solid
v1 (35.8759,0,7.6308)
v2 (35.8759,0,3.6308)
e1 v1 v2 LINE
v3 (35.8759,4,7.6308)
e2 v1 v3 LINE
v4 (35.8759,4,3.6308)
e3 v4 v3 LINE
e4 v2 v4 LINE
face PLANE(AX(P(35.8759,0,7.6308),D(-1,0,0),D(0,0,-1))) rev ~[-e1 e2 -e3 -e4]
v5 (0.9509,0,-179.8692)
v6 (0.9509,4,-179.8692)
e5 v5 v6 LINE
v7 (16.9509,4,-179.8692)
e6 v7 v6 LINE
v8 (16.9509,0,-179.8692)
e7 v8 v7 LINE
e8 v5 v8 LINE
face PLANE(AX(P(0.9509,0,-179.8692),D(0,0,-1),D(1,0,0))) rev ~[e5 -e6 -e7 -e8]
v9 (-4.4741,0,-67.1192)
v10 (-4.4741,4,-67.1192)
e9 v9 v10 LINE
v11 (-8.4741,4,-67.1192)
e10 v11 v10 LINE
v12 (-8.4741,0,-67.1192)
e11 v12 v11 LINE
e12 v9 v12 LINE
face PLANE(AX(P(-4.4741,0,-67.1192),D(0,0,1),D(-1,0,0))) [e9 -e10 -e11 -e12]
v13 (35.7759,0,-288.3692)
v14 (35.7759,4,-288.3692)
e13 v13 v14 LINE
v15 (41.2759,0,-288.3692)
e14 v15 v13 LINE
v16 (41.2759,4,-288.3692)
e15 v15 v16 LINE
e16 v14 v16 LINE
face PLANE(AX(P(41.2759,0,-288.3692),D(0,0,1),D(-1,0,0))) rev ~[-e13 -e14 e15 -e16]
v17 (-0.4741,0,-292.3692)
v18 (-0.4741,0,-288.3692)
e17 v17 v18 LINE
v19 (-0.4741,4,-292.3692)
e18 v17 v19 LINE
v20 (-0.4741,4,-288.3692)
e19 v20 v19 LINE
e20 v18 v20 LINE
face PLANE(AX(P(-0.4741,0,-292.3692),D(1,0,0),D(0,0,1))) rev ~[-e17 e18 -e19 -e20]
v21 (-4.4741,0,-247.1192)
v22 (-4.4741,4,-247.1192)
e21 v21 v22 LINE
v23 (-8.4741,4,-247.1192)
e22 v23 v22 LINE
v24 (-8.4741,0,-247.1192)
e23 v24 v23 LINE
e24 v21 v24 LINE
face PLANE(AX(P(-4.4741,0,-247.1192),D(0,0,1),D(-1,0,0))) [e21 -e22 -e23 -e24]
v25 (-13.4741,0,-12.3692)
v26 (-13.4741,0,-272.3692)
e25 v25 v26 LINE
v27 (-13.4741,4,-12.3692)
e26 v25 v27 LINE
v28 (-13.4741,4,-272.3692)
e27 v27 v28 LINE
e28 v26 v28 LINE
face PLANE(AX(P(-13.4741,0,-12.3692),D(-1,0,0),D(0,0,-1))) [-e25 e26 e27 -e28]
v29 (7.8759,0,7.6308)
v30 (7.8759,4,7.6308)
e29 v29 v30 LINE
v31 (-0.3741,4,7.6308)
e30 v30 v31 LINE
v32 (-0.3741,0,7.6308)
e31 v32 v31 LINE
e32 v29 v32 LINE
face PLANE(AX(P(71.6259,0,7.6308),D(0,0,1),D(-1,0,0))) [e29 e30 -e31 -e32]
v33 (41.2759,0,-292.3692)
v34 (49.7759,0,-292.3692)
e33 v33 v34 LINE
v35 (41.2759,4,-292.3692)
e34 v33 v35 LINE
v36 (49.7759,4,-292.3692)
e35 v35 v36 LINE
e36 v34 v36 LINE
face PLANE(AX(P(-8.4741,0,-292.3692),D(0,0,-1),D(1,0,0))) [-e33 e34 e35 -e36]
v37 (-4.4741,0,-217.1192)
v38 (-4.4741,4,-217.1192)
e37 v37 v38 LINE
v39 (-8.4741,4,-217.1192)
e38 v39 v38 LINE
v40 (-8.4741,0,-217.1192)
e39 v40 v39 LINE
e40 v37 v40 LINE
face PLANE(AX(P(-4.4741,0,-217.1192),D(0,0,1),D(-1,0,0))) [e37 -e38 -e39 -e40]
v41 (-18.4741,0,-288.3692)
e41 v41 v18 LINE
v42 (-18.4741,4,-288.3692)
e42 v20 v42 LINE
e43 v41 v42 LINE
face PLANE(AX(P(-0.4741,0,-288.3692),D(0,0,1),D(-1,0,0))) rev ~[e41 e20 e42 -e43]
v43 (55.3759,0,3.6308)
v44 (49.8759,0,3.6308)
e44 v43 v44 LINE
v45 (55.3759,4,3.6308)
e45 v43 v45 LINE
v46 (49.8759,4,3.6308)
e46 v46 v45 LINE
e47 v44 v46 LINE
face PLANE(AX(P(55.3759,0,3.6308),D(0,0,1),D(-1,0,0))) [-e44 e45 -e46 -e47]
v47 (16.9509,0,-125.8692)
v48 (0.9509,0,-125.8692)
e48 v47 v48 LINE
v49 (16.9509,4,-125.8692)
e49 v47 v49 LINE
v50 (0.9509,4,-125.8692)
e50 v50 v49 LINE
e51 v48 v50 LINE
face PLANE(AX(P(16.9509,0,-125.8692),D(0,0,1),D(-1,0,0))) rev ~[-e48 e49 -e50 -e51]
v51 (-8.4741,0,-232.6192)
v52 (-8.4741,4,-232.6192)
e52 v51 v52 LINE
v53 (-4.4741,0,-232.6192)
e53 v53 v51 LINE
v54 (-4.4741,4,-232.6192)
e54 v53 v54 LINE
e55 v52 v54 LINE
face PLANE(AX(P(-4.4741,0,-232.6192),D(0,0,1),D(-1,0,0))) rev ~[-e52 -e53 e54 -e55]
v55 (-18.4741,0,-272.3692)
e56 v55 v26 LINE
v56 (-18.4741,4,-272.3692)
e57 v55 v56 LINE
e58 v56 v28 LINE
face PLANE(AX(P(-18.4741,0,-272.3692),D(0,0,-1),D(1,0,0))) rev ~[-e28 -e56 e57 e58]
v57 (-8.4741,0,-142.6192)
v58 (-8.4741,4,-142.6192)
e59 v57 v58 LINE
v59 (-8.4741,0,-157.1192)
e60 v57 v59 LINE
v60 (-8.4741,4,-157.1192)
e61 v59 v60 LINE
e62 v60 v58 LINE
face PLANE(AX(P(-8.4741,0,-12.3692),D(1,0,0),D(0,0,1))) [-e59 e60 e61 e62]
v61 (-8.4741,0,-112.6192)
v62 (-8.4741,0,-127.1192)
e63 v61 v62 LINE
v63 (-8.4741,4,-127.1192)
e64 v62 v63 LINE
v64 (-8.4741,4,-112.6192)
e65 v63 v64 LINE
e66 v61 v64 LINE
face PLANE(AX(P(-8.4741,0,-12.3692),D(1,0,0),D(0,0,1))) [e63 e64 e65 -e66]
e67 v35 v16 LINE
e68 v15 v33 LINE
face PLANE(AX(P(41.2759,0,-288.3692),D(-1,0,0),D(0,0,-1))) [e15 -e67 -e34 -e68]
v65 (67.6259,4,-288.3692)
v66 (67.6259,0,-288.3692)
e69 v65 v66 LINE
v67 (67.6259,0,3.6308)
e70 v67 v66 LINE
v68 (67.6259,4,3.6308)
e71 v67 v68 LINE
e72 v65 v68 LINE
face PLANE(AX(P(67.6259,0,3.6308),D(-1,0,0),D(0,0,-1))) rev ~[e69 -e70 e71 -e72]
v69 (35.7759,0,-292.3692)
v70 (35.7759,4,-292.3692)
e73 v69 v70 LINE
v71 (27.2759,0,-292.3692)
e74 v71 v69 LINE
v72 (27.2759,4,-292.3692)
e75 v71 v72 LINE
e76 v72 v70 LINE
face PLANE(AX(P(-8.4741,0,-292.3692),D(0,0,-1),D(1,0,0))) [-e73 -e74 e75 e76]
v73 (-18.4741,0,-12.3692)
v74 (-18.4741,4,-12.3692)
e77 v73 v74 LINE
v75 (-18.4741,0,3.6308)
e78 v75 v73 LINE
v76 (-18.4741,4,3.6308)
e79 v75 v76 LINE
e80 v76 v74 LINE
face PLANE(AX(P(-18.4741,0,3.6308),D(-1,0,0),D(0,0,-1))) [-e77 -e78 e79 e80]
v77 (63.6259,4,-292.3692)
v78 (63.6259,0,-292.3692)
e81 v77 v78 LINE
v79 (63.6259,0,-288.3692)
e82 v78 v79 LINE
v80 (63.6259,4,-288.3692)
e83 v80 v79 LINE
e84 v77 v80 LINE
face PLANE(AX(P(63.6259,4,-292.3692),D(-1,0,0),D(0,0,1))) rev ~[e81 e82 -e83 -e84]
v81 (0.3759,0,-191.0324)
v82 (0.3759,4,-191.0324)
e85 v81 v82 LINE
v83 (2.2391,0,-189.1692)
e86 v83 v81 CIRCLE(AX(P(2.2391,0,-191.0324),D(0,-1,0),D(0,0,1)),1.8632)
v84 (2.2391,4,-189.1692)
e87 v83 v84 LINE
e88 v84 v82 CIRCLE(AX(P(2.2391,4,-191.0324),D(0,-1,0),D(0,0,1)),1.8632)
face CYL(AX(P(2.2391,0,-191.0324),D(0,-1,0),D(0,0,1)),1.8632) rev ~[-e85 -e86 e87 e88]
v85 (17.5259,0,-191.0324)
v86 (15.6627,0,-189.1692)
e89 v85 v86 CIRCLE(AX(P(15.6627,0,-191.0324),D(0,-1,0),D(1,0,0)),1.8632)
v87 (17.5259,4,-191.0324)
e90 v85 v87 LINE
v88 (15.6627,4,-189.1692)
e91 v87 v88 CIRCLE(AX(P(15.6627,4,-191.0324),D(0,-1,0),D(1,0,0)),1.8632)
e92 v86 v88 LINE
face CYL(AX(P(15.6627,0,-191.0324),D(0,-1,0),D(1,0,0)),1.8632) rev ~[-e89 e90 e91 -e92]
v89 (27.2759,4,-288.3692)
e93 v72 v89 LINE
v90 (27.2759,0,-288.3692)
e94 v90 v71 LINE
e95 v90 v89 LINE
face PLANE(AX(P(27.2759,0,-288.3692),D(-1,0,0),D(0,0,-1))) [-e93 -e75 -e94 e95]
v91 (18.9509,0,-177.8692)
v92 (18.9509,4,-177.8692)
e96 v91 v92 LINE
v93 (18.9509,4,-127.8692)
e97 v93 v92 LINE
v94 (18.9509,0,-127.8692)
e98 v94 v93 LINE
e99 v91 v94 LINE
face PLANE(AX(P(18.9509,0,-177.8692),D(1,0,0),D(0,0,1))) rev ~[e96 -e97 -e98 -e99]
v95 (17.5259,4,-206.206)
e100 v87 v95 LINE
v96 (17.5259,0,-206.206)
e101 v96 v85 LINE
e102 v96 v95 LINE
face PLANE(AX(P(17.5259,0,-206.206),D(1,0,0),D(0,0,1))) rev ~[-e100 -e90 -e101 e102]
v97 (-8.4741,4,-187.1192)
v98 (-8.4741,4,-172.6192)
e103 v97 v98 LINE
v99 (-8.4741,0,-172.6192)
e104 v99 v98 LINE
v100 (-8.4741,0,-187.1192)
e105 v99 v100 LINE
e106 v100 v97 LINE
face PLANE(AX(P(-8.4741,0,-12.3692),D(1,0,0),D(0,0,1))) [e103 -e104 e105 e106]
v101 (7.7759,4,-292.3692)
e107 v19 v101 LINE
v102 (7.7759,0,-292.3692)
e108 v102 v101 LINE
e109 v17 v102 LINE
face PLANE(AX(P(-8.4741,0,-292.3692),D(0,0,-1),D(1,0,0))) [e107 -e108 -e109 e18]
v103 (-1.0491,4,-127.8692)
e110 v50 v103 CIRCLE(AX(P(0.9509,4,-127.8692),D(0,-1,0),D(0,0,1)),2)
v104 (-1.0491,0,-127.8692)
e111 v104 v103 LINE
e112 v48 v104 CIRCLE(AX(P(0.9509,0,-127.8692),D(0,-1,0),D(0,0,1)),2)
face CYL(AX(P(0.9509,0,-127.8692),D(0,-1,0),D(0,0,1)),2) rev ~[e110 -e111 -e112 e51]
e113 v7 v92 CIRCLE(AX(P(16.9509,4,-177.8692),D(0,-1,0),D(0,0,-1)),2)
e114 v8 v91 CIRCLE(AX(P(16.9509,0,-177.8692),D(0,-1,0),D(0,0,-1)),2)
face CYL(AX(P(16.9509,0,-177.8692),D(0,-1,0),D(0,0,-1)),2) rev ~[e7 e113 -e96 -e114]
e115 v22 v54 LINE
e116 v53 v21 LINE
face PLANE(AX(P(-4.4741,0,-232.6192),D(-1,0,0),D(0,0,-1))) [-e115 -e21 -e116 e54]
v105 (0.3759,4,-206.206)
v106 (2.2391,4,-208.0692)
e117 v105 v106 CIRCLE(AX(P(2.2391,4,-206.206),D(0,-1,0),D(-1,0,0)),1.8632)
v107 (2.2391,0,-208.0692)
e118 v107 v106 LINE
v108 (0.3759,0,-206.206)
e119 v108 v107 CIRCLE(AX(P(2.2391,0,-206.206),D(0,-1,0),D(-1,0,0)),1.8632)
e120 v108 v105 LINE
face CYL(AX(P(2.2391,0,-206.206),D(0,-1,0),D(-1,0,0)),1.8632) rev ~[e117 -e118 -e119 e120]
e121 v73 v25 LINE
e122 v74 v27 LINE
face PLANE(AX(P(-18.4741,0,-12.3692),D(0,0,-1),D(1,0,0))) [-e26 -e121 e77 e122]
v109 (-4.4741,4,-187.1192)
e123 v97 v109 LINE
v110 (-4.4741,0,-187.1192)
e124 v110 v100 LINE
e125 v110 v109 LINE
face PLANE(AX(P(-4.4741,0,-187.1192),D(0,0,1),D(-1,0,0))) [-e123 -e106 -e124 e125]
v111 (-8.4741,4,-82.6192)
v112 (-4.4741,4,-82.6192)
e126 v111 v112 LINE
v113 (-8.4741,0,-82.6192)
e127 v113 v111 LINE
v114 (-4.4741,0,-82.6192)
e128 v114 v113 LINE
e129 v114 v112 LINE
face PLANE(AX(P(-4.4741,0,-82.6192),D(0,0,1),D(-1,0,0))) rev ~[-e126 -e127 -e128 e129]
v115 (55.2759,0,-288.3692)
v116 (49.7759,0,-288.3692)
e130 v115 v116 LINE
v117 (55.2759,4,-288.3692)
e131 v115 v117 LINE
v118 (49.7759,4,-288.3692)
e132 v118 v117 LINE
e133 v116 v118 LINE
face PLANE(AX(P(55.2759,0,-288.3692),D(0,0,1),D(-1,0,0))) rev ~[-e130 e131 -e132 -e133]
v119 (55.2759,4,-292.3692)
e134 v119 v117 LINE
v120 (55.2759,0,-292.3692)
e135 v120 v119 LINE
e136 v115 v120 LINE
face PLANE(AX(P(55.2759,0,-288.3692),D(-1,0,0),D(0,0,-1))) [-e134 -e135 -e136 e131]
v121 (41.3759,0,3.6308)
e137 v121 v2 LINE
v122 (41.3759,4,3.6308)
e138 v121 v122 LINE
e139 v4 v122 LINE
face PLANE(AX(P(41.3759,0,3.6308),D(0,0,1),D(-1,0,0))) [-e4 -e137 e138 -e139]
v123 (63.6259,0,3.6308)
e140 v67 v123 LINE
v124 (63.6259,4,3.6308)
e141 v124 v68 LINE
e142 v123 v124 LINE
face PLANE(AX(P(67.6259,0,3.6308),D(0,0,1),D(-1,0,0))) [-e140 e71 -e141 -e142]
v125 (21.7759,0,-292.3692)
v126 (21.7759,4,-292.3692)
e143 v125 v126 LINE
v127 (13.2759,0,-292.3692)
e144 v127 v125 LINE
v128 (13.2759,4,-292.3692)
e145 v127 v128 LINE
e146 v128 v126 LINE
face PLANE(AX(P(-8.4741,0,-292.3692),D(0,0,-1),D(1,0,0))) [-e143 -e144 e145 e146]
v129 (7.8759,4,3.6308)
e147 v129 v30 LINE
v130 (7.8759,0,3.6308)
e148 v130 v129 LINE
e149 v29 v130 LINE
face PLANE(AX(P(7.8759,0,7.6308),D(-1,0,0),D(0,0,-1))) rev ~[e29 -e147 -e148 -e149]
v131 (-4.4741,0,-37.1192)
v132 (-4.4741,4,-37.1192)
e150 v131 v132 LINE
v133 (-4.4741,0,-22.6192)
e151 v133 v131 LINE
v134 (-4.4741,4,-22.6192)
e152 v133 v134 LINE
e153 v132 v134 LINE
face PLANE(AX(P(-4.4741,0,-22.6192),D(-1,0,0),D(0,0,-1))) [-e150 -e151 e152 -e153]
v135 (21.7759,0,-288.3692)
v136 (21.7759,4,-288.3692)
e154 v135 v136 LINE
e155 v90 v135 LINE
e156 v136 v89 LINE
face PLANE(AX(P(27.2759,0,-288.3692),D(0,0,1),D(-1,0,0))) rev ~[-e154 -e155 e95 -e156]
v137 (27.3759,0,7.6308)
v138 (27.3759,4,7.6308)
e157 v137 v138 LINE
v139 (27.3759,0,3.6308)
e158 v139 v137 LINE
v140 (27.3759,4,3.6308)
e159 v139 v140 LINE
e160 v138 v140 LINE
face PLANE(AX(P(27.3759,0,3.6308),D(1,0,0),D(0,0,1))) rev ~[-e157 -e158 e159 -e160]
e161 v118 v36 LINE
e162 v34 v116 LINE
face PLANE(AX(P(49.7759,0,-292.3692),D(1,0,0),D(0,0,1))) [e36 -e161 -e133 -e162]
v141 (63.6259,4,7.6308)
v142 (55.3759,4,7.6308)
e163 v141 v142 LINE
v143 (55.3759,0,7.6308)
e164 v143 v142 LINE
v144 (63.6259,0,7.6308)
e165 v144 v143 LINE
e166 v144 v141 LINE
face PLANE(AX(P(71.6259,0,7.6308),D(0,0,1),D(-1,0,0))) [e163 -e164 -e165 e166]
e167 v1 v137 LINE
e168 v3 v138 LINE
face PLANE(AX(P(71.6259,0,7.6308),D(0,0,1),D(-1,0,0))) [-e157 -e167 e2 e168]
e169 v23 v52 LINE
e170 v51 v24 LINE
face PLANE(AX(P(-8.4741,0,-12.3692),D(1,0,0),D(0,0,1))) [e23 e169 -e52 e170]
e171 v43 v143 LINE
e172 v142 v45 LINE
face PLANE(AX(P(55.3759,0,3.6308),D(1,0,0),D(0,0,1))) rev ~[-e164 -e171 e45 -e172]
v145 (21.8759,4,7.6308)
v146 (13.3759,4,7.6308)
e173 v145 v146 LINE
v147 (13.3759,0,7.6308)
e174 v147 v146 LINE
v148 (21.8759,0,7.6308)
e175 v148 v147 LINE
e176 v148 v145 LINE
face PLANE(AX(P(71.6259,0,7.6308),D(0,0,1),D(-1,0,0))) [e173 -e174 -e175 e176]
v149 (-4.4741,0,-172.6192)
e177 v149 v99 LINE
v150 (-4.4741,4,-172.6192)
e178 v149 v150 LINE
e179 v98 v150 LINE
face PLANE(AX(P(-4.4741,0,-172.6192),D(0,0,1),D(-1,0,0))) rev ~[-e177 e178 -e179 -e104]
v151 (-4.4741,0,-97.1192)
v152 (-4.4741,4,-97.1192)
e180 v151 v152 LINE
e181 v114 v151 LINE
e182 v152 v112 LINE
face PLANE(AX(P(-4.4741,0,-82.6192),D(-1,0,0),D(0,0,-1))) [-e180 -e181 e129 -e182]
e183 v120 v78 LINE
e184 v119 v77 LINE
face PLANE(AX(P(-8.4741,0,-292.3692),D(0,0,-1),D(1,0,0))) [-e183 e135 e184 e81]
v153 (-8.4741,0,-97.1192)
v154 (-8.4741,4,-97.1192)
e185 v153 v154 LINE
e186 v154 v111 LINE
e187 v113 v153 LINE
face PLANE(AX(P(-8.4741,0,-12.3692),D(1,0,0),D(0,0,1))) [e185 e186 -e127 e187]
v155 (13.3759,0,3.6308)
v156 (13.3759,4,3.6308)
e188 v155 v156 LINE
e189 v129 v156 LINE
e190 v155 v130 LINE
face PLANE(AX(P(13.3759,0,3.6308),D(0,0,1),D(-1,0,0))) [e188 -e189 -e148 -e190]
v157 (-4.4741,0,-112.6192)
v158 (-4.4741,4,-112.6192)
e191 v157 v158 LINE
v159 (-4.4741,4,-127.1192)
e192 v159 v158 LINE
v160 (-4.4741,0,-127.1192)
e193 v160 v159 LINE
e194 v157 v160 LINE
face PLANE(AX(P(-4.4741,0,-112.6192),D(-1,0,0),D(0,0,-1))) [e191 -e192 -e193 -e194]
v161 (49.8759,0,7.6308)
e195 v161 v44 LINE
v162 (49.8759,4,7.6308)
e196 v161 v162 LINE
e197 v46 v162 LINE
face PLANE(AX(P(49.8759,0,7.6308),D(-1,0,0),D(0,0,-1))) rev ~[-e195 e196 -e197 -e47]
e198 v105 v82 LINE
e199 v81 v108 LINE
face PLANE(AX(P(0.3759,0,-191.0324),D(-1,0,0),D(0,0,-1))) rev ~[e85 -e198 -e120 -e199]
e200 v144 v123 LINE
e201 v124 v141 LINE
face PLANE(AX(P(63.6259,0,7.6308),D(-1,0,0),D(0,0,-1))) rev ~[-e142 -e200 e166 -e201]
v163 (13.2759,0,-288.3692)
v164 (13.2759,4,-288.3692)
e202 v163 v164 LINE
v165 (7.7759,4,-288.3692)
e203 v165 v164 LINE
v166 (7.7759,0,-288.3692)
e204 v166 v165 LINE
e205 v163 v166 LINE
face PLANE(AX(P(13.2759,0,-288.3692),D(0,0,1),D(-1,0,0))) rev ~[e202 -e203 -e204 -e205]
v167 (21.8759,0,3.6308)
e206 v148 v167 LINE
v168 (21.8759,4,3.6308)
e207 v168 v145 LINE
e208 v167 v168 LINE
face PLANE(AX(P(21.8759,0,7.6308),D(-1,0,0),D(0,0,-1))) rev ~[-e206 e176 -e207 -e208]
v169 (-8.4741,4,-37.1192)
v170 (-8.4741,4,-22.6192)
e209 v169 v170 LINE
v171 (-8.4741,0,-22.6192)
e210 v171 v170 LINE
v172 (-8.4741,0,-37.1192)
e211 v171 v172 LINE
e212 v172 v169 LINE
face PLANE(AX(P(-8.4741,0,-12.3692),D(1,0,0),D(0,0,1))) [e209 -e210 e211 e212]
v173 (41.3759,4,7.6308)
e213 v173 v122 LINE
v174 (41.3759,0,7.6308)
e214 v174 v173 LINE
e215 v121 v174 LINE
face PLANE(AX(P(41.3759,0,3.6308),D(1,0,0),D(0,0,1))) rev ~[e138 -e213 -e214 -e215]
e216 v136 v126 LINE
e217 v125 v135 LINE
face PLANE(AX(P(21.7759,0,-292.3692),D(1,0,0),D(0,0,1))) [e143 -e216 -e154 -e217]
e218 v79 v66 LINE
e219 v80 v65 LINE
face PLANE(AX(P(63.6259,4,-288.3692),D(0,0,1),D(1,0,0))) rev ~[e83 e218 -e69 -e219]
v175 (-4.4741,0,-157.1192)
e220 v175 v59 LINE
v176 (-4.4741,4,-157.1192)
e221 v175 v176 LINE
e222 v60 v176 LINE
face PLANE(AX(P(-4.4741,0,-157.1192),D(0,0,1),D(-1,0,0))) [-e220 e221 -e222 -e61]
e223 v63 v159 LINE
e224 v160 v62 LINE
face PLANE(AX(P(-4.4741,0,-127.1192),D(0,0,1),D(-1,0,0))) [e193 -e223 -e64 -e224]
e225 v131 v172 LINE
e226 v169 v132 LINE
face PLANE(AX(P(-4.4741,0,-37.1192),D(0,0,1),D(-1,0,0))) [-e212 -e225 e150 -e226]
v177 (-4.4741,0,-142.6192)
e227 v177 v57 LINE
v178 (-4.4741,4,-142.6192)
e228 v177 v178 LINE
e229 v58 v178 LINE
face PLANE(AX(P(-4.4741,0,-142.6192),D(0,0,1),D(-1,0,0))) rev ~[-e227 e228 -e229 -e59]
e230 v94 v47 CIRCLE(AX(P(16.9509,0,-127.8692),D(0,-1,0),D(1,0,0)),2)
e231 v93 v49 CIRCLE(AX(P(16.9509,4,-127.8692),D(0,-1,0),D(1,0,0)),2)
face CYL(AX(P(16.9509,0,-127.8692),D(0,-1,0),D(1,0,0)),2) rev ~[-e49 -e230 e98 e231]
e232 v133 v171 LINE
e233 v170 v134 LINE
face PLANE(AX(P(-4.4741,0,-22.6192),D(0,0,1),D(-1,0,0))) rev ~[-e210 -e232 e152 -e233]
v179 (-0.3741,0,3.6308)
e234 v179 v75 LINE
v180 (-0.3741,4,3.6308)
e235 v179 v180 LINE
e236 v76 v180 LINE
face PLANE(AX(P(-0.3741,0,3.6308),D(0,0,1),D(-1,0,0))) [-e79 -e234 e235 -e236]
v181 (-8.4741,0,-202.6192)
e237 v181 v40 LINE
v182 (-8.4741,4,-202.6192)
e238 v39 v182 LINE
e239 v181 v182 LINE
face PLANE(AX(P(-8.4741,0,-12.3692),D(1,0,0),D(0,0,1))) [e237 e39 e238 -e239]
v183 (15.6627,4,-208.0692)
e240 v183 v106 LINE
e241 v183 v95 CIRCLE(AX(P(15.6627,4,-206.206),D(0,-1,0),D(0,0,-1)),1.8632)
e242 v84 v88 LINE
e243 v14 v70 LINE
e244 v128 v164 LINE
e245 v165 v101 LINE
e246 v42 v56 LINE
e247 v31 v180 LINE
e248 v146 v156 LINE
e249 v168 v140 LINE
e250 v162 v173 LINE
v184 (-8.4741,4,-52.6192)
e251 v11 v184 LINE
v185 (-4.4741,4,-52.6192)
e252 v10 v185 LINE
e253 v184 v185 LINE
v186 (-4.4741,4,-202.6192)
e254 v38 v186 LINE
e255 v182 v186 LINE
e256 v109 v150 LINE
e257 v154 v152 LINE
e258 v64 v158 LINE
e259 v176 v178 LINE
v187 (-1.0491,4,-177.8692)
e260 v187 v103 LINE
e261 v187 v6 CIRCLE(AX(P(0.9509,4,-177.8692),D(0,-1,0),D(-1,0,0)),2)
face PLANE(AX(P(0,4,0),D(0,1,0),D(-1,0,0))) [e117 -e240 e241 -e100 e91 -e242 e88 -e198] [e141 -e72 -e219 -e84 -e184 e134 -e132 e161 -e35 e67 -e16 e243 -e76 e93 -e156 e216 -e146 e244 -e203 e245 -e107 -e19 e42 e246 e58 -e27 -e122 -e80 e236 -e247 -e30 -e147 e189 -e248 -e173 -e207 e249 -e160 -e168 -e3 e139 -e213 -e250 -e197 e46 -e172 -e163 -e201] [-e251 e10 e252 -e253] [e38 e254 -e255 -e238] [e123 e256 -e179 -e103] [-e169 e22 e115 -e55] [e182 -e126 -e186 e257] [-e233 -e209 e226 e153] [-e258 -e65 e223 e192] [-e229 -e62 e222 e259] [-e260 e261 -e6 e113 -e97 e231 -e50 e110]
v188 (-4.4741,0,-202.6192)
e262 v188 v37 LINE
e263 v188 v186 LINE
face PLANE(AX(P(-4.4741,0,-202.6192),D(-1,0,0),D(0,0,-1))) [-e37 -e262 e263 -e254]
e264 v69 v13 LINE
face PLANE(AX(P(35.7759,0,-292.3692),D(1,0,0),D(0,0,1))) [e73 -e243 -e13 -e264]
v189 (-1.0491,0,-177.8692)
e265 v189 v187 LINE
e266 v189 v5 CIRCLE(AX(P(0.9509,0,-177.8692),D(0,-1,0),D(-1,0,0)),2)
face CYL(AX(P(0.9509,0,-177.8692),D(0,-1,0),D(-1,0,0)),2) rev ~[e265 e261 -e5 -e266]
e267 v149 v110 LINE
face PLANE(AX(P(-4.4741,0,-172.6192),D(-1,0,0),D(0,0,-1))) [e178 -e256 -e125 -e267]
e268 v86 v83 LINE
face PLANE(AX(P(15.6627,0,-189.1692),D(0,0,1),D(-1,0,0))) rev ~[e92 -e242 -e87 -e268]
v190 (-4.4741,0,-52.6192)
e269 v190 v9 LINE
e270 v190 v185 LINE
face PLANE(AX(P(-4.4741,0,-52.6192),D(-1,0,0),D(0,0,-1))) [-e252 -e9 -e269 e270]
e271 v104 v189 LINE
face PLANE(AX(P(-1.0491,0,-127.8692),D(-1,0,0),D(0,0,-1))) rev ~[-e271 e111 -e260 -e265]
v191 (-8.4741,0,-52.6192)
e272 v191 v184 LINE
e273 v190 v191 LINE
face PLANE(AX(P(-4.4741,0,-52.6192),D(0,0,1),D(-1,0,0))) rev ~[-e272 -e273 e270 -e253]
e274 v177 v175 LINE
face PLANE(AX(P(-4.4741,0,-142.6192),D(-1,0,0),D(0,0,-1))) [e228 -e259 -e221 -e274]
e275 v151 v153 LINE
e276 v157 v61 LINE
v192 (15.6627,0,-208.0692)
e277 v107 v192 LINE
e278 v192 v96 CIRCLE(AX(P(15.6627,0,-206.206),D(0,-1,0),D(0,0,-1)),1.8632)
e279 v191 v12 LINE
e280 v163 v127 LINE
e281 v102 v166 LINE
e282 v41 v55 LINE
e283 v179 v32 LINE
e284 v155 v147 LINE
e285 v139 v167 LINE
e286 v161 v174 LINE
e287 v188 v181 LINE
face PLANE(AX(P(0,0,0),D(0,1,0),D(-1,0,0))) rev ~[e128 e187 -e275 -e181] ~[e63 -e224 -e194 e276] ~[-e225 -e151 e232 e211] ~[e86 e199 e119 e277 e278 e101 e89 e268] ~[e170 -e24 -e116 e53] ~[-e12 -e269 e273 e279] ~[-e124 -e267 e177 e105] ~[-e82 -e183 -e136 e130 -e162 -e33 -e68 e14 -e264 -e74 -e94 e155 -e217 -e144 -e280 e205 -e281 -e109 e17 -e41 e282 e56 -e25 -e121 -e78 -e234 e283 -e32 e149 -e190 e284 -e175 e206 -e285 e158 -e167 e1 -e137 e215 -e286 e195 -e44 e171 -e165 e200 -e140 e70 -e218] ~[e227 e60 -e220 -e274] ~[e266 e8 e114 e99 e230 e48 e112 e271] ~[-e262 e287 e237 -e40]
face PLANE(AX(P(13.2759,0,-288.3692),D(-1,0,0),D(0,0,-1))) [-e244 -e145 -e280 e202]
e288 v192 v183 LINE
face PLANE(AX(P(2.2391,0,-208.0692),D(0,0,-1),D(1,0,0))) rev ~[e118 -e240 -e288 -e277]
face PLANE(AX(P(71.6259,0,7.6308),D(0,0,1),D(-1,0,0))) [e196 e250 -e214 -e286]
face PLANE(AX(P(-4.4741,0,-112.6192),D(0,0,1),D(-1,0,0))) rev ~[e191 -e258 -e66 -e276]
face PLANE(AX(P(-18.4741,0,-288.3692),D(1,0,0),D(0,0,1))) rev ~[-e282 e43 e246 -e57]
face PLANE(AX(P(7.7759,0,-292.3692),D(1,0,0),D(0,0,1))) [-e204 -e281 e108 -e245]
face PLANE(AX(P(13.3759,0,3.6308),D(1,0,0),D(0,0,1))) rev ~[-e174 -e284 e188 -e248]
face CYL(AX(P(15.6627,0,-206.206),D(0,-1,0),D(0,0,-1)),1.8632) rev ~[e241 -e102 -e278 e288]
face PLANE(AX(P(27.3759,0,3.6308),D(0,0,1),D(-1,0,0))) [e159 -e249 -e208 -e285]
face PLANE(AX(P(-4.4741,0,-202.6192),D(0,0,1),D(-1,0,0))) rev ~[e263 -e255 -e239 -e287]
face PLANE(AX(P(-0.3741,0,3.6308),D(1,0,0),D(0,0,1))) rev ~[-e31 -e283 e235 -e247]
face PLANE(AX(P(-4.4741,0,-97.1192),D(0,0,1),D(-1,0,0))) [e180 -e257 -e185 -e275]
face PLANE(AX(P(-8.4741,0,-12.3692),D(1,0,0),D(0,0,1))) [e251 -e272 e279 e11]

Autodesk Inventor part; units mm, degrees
ref_plane "YZ Plane" through (0, 0, 0) normal (1, 0, 0) x (0, 1, 0)
ref_plane "XZ Plane" through (0, 0, 0) normal (0, 1, 0) x (-1, 0, 0)
ref_plane "XY Plane" through (0, 0, 0) normal (0, 0, 1) x (1, 0, 0)
sketch "Sketch1" plane through (0, 0, 0) normal (0, 1, 0) x (-1, 0, 0)
  line L0 (-71.6259, 7.6308) -> (8.4741, 7.6308)
  line L1 (8.4741, 7.6308) -> (8.4741, -292.3692)
  line L2 (8.4741, -292.3692) -> (-71.6259, -292.3692)
  line L3 (-71.6259, -292.3692) -> (-71.6259, 7.6308)
  point P0 (0, 0)
extrude "Extrusion1" add sketch "Sketch1" along normal blind 4
sketch "Sketch2" plane through (0, 0, 0) normal (0, -1, 0) x (1, 0, 0)
  line L0 (-0.3741, 7.6308) -> (-18.4741, 7.6308) construction
  line L1 (-0.3741, 3.6308) -> (-0.3741, 7.6308) construction
  line L2 (7.6259, 7.6308) -> (7.6259, 3.6308) construction
  line L3 (13.6259, 3.6308) -> (7.6259, 3.6308) construction
  line L4 (13.6259, 3.6308) -> (13.6259, 7.6308) construction
  line L5 (21.6259, 7.6308) -> (21.6259, 3.6308) construction
  line L6 (27.6259, 3.6308) -> (21.6259, 3.6308) construction
  line L7 (27.6259, 3.6308) -> (27.6259, 7.6308) construction
  line L8 (35.6259, 7.6308) -> (35.6259, 3.6308) construction
  line L9 (41.6259, 3.6308) -> (35.6259, 3.6308) construction
  line L10 (41.6259, 3.6308) -> (41.6259, 7.6308) construction
  line L11 (49.6259, 7.6308) -> (49.6259, 3.6308) construction
  line L12 (55.6259, 3.6308) -> (49.6259, 3.6308) construction
  line L13 (55.6259, 3.6308) -> (55.6259, 7.6308) construction
  line L14 (63.6259, 7.6308) -> (63.6259, 3.6308) construction
  line L15 (67.6259, 3.6308) -> (63.6259, 3.6308) construction
  line L16 (67.6259, 7.6308) -> (67.6259, -292.3692) projected
  line L17 (71.6259, 7.6308) -> (71.6259, -292.3692) projected
  line L18 (67.6259, 7.6308) -> (67.6259, -292.3692) projected
  line L19 (71.6259, 7.6308) -> (71.6259, -292.3692) projected
  line L20 (67.6259, 7.6308) -> (67.6259, -292.3692) projected
  line L21 (71.6259, 7.6308) -> (71.6259, -292.3692) projected
  line L22 (67.6259, 7.6308) -> (67.6259, -292.3692) projected
  line L23 (71.6259, 7.6308) -> (71.6259, -292.3692) projected
  line L24 (67.6259, 7.6308) -> (67.6259, -292.3692) projected
  line L25 (71.6259, 7.6308) -> (71.6259, -292.3692) projected
  line L26 (67.6259, 7.6308) -> (67.6259, -292.3692) projected
  line L27 (71.6259, 7.6308) -> (71.6259, -292.3692) projected
  line L28 (67.6259, 7.6308) -> (67.6259, -292.3692) projected
  line L29 (71.6259, 7.6308) -> (71.6259, -292.3692) projected
  line L30 (67.6259, 7.6308) -> (67.6259, -292.3692) projected
  line L31 (71.6259, 7.6308) -> (71.6259, -292.3692) projected
  line L32 (67.6259, 7.6308) -> (67.6259, -292.3692) projected
  line L33 (71.6259, 7.6308) -> (71.6259, -292.3692) projected
  line L34 (67.6259, 7.6308) -> (67.6259, -292.3692) projected
  line L35 (71.6259, 7.6308) -> (71.6259, -292.3692) projected
  line L36 (13.5259, -288.3692) -> (7.5259, -288.3692) projected
  line L37 (55.5259, -292.3692) -> (55.5259, -288.3692) projected
  line L38 (55.5259, -288.3692) -> (49.5259, -288.3692) projected
  line L39 (49.5259, -288.3692) -> (49.5259, -292.3692) projected
  line L40 (41.5259, -288.3692) -> (35.5259, -288.3692) projected
  line L41 (41.5259, -292.3692) -> (41.5259, -288.3692) projected
  line L42 (35.5259, -288.3692) -> (35.5259, -292.3692) projected
  line L43 (27.5259, -288.3692) -> (21.5259, -288.3692) projected
  line L44 (27.5259, -292.3692) -> (27.5259, -288.3692) projected
  line L45 (21.5259, -288.3692) -> (21.5259, -292.3692) projected
  line L46 (13.5259, -288.3692) -> (7.5259, -288.3692) projected
  line L47 (13.5259, -292.3692) -> (13.5259, -288.3692) projected
  line L48 (7.5259, -288.3692) -> (7.5259, -292.3692) projected
  line L49 (-8.4741, -292.3692) -> (-8.4741, 7.6308) projected
  line L50 (-8.4741, -22.3692) -> (-8.4741, -37.3692) projected
  line L51 (-8.4741, -37.3692) -> (-4.4741, -37.3692) projected
  line L52 (-4.4741, -22.3692) -> (-4.4741, -37.3692) projected
  line L53 (-8.4741, -22.3692) -> (-4.4741, -22.3692) projected
  line L54 (-8.4741, -52.3692) -> (-8.4741, -67.3692) projected
  line L55 (-8.4741, -67.3692) -> (-4.4741, -67.3692) projected
  line L56 (-4.4741, -52.3692) -> (-4.4741, -67.3692) projected
  line L57 (-8.4741, -52.3692) -> (-4.4741, -52.3692) projected
  line L58 (-8.4741, -82.3692) -> (-8.4741, -97.3692) projected
  line L59 (-8.4741, -97.3692) -> (-4.4741, -97.3692) projected
  line L60 (-4.4741, -82.3692) -> (-4.4741, -97.3692) projected
  line L61 (-8.4741, -82.3692) -> (-4.4741, -82.3692) projected
  line L62 (-8.4741, -112.3692) -> (-8.4741, -127.3692) projected
  line L63 (-8.4741, -127.3692) -> (-4.4741, -127.3692) projected
  line L64 (-4.4741, -112.3692) -> (-4.4741, -127.3692) projected
  line L65 (-8.4741, -112.3692) -> (-4.4741, -112.3692) projected
  line L66 (-8.4741, -142.3692) -> (-8.4741, -157.3692) projected
  line L67 (-8.4741, -157.3692) -> (-4.4741, -157.3692) projected
  line L68 (-4.4741, -142.3692) -> (-4.4741, -157.3692) projected
  line L69 (-8.4741, -142.3692) -> (-4.4741, -142.3692) projected
  line L70 (-8.4741, -172.3692) -> (-8.4741, -187.3692) projected
  line L71 (-8.4741, -187.3692) -> (-4.4741, -187.3692) projected
  line L72 (-4.4741, -172.3692) -> (-4.4741, -187.3692) projected
  line L73 (-8.4741, -172.3692) -> (-4.4741, -172.3692) projected
  line L74 (-8.4741, -202.3692) -> (-8.4741, -217.3692) projected
  line L75 (-8.4741, -217.3692) -> (-4.4741, -217.3692) projected
  line L76 (-4.4741, -202.3692) -> (-4.4741, -217.3692) projected
  line L77 (-8.4741, -202.3692) -> (-4.4741, -202.3692) projected
  line L78 (-8.4741, -232.3692) -> (-8.4741, -247.3692) projected
  line L79 (-8.4741, -247.3692) -> (-4.4741, -247.3692) projected
  line L80 (-4.4741, -232.3692) -> (-4.4741, -247.3692) projected
  line L81 (-8.4741, -232.3692) -> (-4.4741, -232.3692) projected
  line L82 (71.6259, -37.1192) -> (67.6259, -37.1192)
  line L83 (67.6259, -22.6192) -> (71.6259, -22.6192)
  line L84 (67.6259, -52.6192) -> (71.6259, -52.6192)
  line L85 (71.6259, -67.1192) -> (67.6259, -67.1192)
  line L86 (67.6259, -82.6192) -> (71.6259, -82.6192)
  line L87 (71.6259, -97.1192) -> (67.6259, -97.1192)
  line L88 (67.6259, -112.6192) -> (71.6259, -112.6192)
  line L89 (71.6259, -127.1192) -> (67.6259, -127.1192)
  line L90 (67.6259, -142.6192) -> (71.6259, -142.6192)
  line L91 (71.6259, -157.1192) -> (67.6259, -157.1192)
  line L92 (67.6259, -172.6192) -> (71.6259, -172.6192)
  line L93 (71.6259, -187.1192) -> (67.6259, -187.1192)
  line L94 (67.6259, -202.6192) -> (71.6259, -202.6192)
  line L95 (71.6259, -217.1192) -> (67.6259, -217.1192)
  line L96 (67.6259, -232.6192) -> (71.6259, -232.6192)
  line L97 (71.6259, -247.1192) -> (67.6259, -247.1192)
  line L98 (67.6259, -262.6192) -> (71.6259, -262.6192)
  line L99 (71.6259, -277.1192) -> (67.6259, -277.1192)
  line L100 (-4.4741, -22.6192) -> (-8.4741, -22.6192)
  line L101 (-4.4741, -37.1192) -> (-8.4741, -37.1192)
  line L102 (-4.4741, -52.6192) -> (-8.4741, -52.6192)
  line L103 (-4.4741, -67.1192) -> (-8.4741, -67.1192)
  line L104 (-4.4741, -82.6192) -> (-8.4741, -82.6192)
  line L105 (-4.4741, -97.1192) -> (-8.4741, -97.1192)
  line L106 (-4.4741, -112.6192) -> (-8.4741, -112.6192)
  line L107 (-4.4741, -127.1192) -> (-8.4741, -127.1192)
  line L108 (-4.4741, -142.6192) -> (-8.4741, -142.6192)
  line L109 (-4.4741, -157.1192) -> (-8.4741, -157.1192)
  line L110 (-4.4741, -172.6192) -> (-8.4741, -172.6192)
  line L111 (-4.4741, -187.1192) -> (-8.4741, -187.1192)
  line L112 (-4.4741, -202.6192) -> (-8.4741, -202.6192)
  line L113 (-4.4741, -217.1192) -> (-8.4741, -217.1192)
  line L114 (-4.4741, -232.6192) -> (-8.4741, -232.6192)
  line L115 (-4.4741, -247.1192) -> (-8.4741, -247.1192)
  line L116 (7.8759, 7.6308) -> (7.8759, 3.6308)
  line L117 (13.3759, 3.6308) -> (13.3759, 7.6308)
  line L118 (21.8759, 7.6308) -> (21.8759, 3.6308)
  line L119 (27.3759, 3.6308) -> (27.3759, 7.6308)
  line L120 (35.8759, 7.6308) -> (35.8759, 3.6308)
  line L121 (41.3759, 3.6308) -> (41.3759, 7.6308)
  line L122 (49.8759, 7.6308) -> (49.8759, 3.6308)
  line L123 (55.3759, 3.6308) -> (55.3759, 7.6308)
  line L124 (7.7759, -292.3692) -> (7.7759, -288.3692)
  line L125 (13.2759, -288.3692) -> (13.2759, -292.3692)
  line L126 (21.7759, -292.3692) -> (21.7759, -288.3692)
  line L127 (27.2759, -288.3692) -> (27.2759, -292.3692)
  line L128 (35.7759, -292.3692) -> (35.7759, -288.3692)
  line L129 (41.2759, -288.3692) -> (41.2759, -292.3692)
  line L130 (49.7759, -292.3692) -> (49.7759, -288.3692)
  line L131 (55.2759, -288.3692) -> (55.2759, -292.3692)
  line L132 (13.6259, 3.6308) -> (7.6259, 3.6308) projected
  line L133 (27.6259, 3.6308) -> (21.6259, 3.6308) projected
  line L134 (41.6259, 3.6308) -> (35.6259, 3.6308) projected
  line L135 (55.6259, 3.6308) -> (49.6259, 3.6308) projected
  line L136 (71.6259, -292.3692) -> (-8.4741, -292.3692) projected
  line L137 (-0.3741, 3.6308) -> (-0.3741, 7.6308) projected
  line L138 (-8.4741, 7.6308) -> (71.6259, 7.6308) projected
  line L139 (71.6259, 7.6308) -> (71.6259, -292.3692) projected
  line L140 (63.6259, 7.6308) -> (63.6259, 3.6308) projected
  line L141 (67.6259, 3.6308) -> (63.6259, 3.6308) projected
  line L142 (-0.3741, 3.6308) -> (-18.4741, 3.6308) projected
  line L143 (-18.4741, 7.6308) -> (-18.4741, 3.6308) projected
  line L144 (-0.3741, 7.6308) -> (-18.4741, 7.6308) projected
  line L145 (-0.3741, 3.6308) -> (-0.3741, 7.6308) projected
  line L146 (-0.3741, 7.6308) -> (-18.4741, 7.6308) projected
  line L147 (-18.4741, 7.6308) -> (-18.4741, 3.6308) projected
  line L148 (-0.3741, 3.6308) -> (-18.4741, 3.6308) projected
  line L149 (-0.4741, -292.3692) -> (-0.4741, -288.3692) projected
  line L150 (-0.4741, -288.3692) -> (-18.4741, -288.3692) projected
  line L151 (-18.4741, -292.3692) -> (-18.4741, -288.3692) projected
  line L152 (-0.4741, -292.3692) -> (-18.4741, -292.3692) projected
  line L153 (15.6627, -189.1692) -> (2.2391, -189.1692)
  line L154 (0.3759, -191.0324) -> (0.3759, -206.206)
  line L155 (2.2391, -208.0692) -> (15.6627, -208.0692)
  line L156 (17.5259, -206.206) -> (17.5259, -191.0324)
  arc A0 (17.5259, -191.0324) -> (15.6627, -189.1692) centre (15.6627, -191.0324) ccw
  arc A1 (2.2391, -189.1692) -> (0.3759, -191.0324) centre (2.2391, -191.0324) ccw
  arc A2 (15.6627, -208.0692) -> (17.5259, -206.206) centre (15.6627, -206.206) ccw
  arc A3 (0.3759, -206.206) -> (2.2391, -208.0692) centre (2.2391, -206.206) ccw
  line L157 (16.9509, -125.8692) -> (0.9509, -125.8692)
  line L158 (-1.0491, -127.8692) -> (-1.0491, -177.8692)
  line L159 (0.9509, -179.8692) -> (16.9509, -179.8692)
  line L160 (18.9509, -177.8692) -> (18.9509, -127.8692)
  arc A4 (18.9509, -127.8692) -> (16.9509, -125.8692) centre (16.9509, -127.8692) ccw
  arc A5 (0.9509, -125.8692) -> (-1.0491, -127.8692) centre (0.9509, -127.8692) ccw
  arc A6 (16.9509, -179.8692) -> (18.9509, -177.8692) centre (16.9509, -177.8692) ccw
  arc A7 (-1.0491, -177.8692) -> (0.9509, -179.8692) centre (0.9509, -177.8692) ccw
  line L161 (67.6259, -292.3692) -> (71.6259, -292.3692) projected
  line L162 (67.6259, 7.6308) -> (71.6259, 7.6308) projected
  line L163 (67.6259, -292.3692) -> (71.6259, -292.3692) projected
  line L164 (67.6259, 7.6308) -> (71.6259, 7.6308) projected
  line L165 (67.6259, -292.3692) -> (71.6259, -292.3692) projected
  line L166 (67.6259, 7.6308) -> (71.6259, 7.6308) projected
  line L167 (67.6259, -292.3692) -> (71.6259, -292.3692) projected
  line L168 (67.6259, 7.6308) -> (71.6259, 7.6308) projected
  line L169 (67.6259, -292.3692) -> (71.6259, -292.3692) projected
  line L170 (67.6259, 7.6308) -> (71.6259, 7.6308) projected
  line L171 (67.6259, -292.3692) -> (71.6259, -292.3692) projected
  line L172 (67.6259, 7.6308) -> (71.6259, 7.6308) projected
  line L173 (67.6259, -292.3692) -> (71.6259, -292.3692) projected
  line L174 (67.6259, 7.6308) -> (71.6259, 7.6308) projected
  line L175 (67.6259, -292.3692) -> (71.6259, -292.3692) projected
  line L176 (67.6259, 7.6308) -> (71.6259, 7.6308) projected
  line L177 (67.6259, -292.3692) -> (71.6259, -292.3692) projected
  line L178 (67.6259, 7.6308) -> (71.6259, 7.6308) projected
  line L179 (67.6259, -292.3692) -> (71.6259, -292.3692) projected
  line L180 (67.6259, 7.6308) -> (71.6259, 7.6308) projected
  point P0 (0, 0)
  point P1 (71.6259, -7.3692)
  point P2 (71.6259, -37.3692)
  point P3 (71.6259, -22.3692)
  point P4 (71.6259, -67.3692)
  point P5 (71.6259, -52.3692)
  point P6 (71.6259, -97.3692)
  point P7 (71.6259, -82.3692)
  point P8 (71.6259, -127.3692)
  point P9 (71.6259, -112.3692)
  point P10 (71.6259, -157.3692)
  point P11 (71.6259, -142.3692)
  point P12 (71.6259, -187.3692)
  point P13 (71.6259, -172.3692)
  point P14 (71.6259, -217.3692)
  point P15 (71.6259, -202.3692)
  point P16 (71.6259, -247.3692)
  point P17 (71.6259, -232.3692)
  point P18 (71.6259, -277.3692)
  point P19 (71.6259, -262.3692)
  point P20 (67.6259, -97.1192)
  point P21 (71.6259, -97.1192)
  point P22 (71.6259, -82.6192)
  point P23 (67.6259, -82.6192)
  point P24 (67.6259, -127.1192)
  point P25 (71.6259, -127.1192)
  point P26 (71.6259, -112.6192)
  point P27 (67.6259, -112.6192)
  point P28 (67.6259, -157.1192)
  point P29 (71.6259, -157.1192)
  point P30 (71.6259, -142.6192)
  point P31 (67.6259, -142.6192)
  point P32 (67.6259, -187.1192)
  point P33 (71.6259, -187.1192)
  point P34 (71.6259, -172.6192)
  point P35 (67.6259, -172.6192)
  point P36 (67.6259, -217.1192)
  point P37 (71.6259, -217.1192)
  point P38 (71.6259, -202.6192)
  point P39 (67.6259, -202.6192)
  point P40 (67.6259, -247.1192)
  point P41 (71.6259, -247.1192)
  point P42 (71.6259, -232.6192)
  point P43 (67.6259, -232.6192)
  point P44 (67.6259, -277.1192)
  point P45 (71.6259, -277.1192)
  point P46 (71.6259, -262.6192)
  point P47 (67.6259, -262.6192)
  point P48 (-8.4741, -247.1192)
  point P49 (-4.4741, -247.1192)
  point P50 (-4.4741, -232.6192)
  point P51 (-8.4741, -232.6192)
  point P52 (-8.4741, -217.1192)
  point P53 (-4.4741, -217.1192)
  point P54 (-4.4741, -202.6192)
  point P55 (-8.4741, -202.6192)
  point P56 (-8.4741, -187.1192)
  point P57 (-4.4741, -187.1192)
  point P58 (-4.4741, -172.6192)
  point P59 (-8.4741, -172.6192)
  point P60 (-8.4741, -157.1192)
  point P61 (-4.4741, -157.1192)
  point P62 (-4.4741, -142.6192)
  point P63 (-8.4741, -142.6192)
  point P64 (-8.4741, -127.1192)
  point P65 (-4.4741, -127.1192)
  point P66 (-4.4741, -112.6192)
  point P67 (-8.4741, -112.6192)
  point P68 (-8.4741, -97.1192)
  point P69 (-4.4741, -97.1192)
  point P70 (-4.4741, -82.6192)
  point P71 (-8.4741, -82.6192)
  point P72 (-8.4741, -67.1192)
  point P73 (-4.4741, -67.1192)
  point P74 (-4.4741, -52.6192)
  point P75 (-8.4741, -52.6192)
  point P76 (-8.4741, -37.1192)
  point P77 (-8.4741, -22.6192)
  point P78 (67.6259, -67.1192)
  point P79 (71.6259, -67.1192)
  point P80 (71.6259, -52.6192)
  point P81 (67.6259, -52.6192)
  point P82 (8.9509, -189.1692)
  point P83 (8.9509, -179.8692)
  point P84 (67.6259, -292.3692)
  point P85 (67.6259, 3.6308)
  point P86 (67.6259, 7.6308)
  point P87 (71.6259, 3.6308)
  point P88 (67.6259, -288.3692)
  point P89 (71.6259, -288.3692)
  point P90 (-8.4741, 3.6308)
  point P91 (21.7759, -288.3692)
  point P92 (35.7759, -288.3692)
  point P93 (49.7759, -288.3692)
  point P94 (-8.4741, -288.3692)
  dimension "d7" = 30
  dimension "d15" = 30
  dimension "d20" = 0.25
  dimension "d23" = 14
  dimension "d28" = 0.25
  dimension "d31" = 14
  dimension "d49" = 2
  dimension "d50" = 50
  dimension "d51" = 20
extrude "Extrusion2" cut sketch "Sketch2" against normal through all contours L138 L17 L83 L16 | L16 L141 L140 L138 | L83 L17 L82 L16 | L123 L135 L122 L138 | L82 L17 L84 L16 | L84 L17 L85 L16 | L121 L134 L120 L138 | L85 L17 L86 L16 | L86 L17 L87 L16 | L119 L133 L118 L138 | L87 L17 L88 L16 | L88 L17 L89 L16 | L117 L132 L116 L138 | L89 L17 L90 L16 | L90 L17 L91 L16 | L137 L142 L49 L138 | L91 L17 L92 L16 | L92 L17 L93 L16 | L93 L17 L94 L16 | L94 L17 L95 L16 | L100 L52 L101 L49 | L95 L17 L96 L16 | L96 L17 L97 L16 | L97 L17 L98 L16 | L98 L17 L99 L16 | L102 L56 L103 L49 | L99 L17 L136 L16 | L136 L130 L38 L131 | L104 L60 L105 L49 | L136 L128 L40 L129 | L106 L64 L107 L49 | L136 L126 L43 L127 | L108 L68 L109 L49 | L136 L124 L36 L125 | L110 L72 L111 L49 | L136 L49 L150 L149 | L112 L76 L113 L49 | L49 L114 L80 L115 | A0 L156 A2 L155 A3 L154 A1 L153 | A4 L160 A6 L159 A7 L158 A5 L157
sketch "Sketch3" plane through (0, 0, 0) normal (0, -1, 0) x (1, 0, 0)
  line L0 (-8.4741, 7.6308) -> (7.8759, 7.6308) projected
  line L1 (7.7759, -292.3692) -> (-8.4741, -292.3692) projected
  line L2 (-8.4741, -22.6192) -> (-8.4741, 3.6308) projected
  line L3 (-8.4741, 3.6308) -> (-18.4741, 3.6308)
  line L4 (-18.4741, 3.6308) -> (-18.4741, -12.3692)
  line L5 (-18.4741, -12.3692) -> (-8.4741, -12.3692)
  line L6 (-8.4741, -12.3692) -> (-8.4741, 3.6308)
  line L7 (-8.4741, -292.3692) -> (-8.4741, -247.1192) projected
  line L8 (-8.4741, -288.3692) -> (-18.4741, -288.3692)
  line L9 (-18.4741, -288.3692) -> (-18.4741, -272.3692)
  line L10 (-18.4741, -272.3692) -> (-8.4741, -272.3692)
  line L11 (-8.4741, -272.3692) -> (-8.4741, -288.3692)
  line L12 (-8.4741, -12.3692) -> (-8.4741, -272.3692)
  line L13 (49.8759, 3.6308) -> (49.8759, 7.6308) projected
  line L14 (41.3759, 7.6308) -> (49.8759, 7.6308) projected
  line L15 (41.3759, 7.6308) -> (41.3759, 3.6308) projected
  line L16 (41.3759, 3.6308) -> (35.8759, 3.6308) projected
  line L17 (35.8759, 3.6308) -> (35.8759, 7.6308) projected
  line L18 (27.3759, 7.6308) -> (35.8759, 7.6308) projected
  line L19 (27.3759, 7.6308) -> (27.3759, 3.6308) projected
  line L20 (27.3759, 3.6308) -> (21.8759, 3.6308) projected
  line L21 (21.8759, 3.6308) -> (21.8759, 7.6308) projected
  line L22 (13.3759, 7.6308) -> (21.8759, 7.6308) projected
  line L23 (13.3759, 7.6308) -> (13.3759, 3.6308) projected
  line L24 (13.3759, 3.6308) -> (7.8759, 3.6308) projected
  line L25 (7.8759, 3.6308) -> (7.8759, 7.6308) projected
  line L26 (-0.3741, 7.6308) -> (7.8759, 7.6308) projected
  line L27 (-0.3741, 7.6308) -> (-0.3741, 3.6308) projected
  line L28 (-0.3741, 3.6308) -> (-8.4741, 3.6308) projected
  line L29 (-8.4741, -22.6192) -> (-8.4741, 3.6308) projected
  line L30 (-4.4741, -22.6192) -> (-4.4741, -37.1192) projected
  line L31 (-8.4741, -52.6192) -> (-8.4741, -37.1192) projected
  line L32 (-4.4741, -52.6192) -> (-4.4741, -67.1192) projected
  line L33 (-8.4741, -82.6192) -> (-8.4741, -67.1192) projected
  line L34 (-4.4741, -82.6192) -> (-4.4741, -97.1192) projected
  line L35 (-8.4741, -112.6192) -> (-8.4741, -97.1192) projected
  line L36 (-4.4741, -112.6192) -> (-4.4741, -127.1192) projected
  line L37 (-8.4741, -142.6192) -> (-8.4741, -127.1192) projected
  line L38 (-4.4741, -142.6192) -> (-4.4741, -157.1192) projected
  line L39 (-8.4741, -172.6192) -> (-8.4741, -157.1192) projected
  line L40 (-4.4741, -172.6192) -> (-4.4741, -187.1192) projected
  line L41 (-8.4741, -202.6192) -> (-8.4741, -187.1192) projected
  line L42 (-4.4741, -202.6192) -> (-4.4741, -217.1192) projected
  line L43 (-8.4741, -232.6192) -> (-8.4741, -217.1192) projected
  line L44 (-4.4741, -232.6192) -> (-4.4741, -247.1192) projected
  line L45 (-8.4741, -288.3692) -> (-8.4741, -247.1192) projected
  line L46 (7.7759, -292.3692) -> (-0.4741, -292.3692) projected
  line L47 (7.7759, -288.3692) -> (13.2759, -288.3692) projected
  line L48 (21.7759, -292.3692) -> (13.2759, -292.3692) projected
  line L49 (67.6259, -292.3692) -> (67.6259, 3.6308) projected
  line L50 (55.3759, 7.6308) -> (63.6259, 7.6308) projected
  line L51 (55.3759, 7.6308) -> (55.3759, 3.6308) projected
  line L52 (55.3759, 3.6308) -> (49.8759, 3.6308) projected
  line L53 (-13.4741, -12.3692) -> (-13.4741, -272.3692)
  line L54 (67.6259, 3.6308) -> (63.6259, 3.6308) projected
  line L55 (63.6259, 3.6308) -> (63.6259, 7.6308) projected
  line L56 (-8.4741, -22.6192) -> (-4.4741, -22.6192) projected
  line L57 (-4.4741, -37.1192) -> (-8.4741, -37.1192) projected
  line L58 (-8.4741, -52.6192) -> (-4.4741, -52.6192) projected
  line L59 (-4.4741, -67.1192) -> (-8.4741, -67.1192) projected
  line L60 (-8.4741, -82.6192) -> (-4.4741, -82.6192) projected
  line L61 (-4.4741, -97.1192) -> (-8.4741, -97.1192) projected
  line L62 (-8.4741, -112.6192) -> (-4.4741, -112.6192) projected
  line L63 (-4.4741, -127.1192) -> (-8.4741, -127.1192) projected
  line L64 (-8.4741, -142.6192) -> (-4.4741, -142.6192) projected
  line L65 (-4.4741, -157.1192) -> (-8.4741, -157.1192) projected
  line L66 (-8.4741, -172.6192) -> (-4.4741, -172.6192) projected
  line L67 (-4.4741, -187.1192) -> (-8.4741, -187.1192) projected
  line L68 (-8.4741, -202.6192) -> (-4.4741, -202.6192) projected
  line L69 (-4.4741, -217.1192) -> (-8.4741, -217.1192) projected
  line L70 (-8.4741, -232.6192) -> (-4.4741, -232.6192) projected
  line L71 (-4.4741, -247.1192) -> (-8.4741, -247.1192) projected
  line L72 (7.7759, -292.3692) -> (7.7759, -288.3692) projected
  line L73 (13.2759, -288.3692) -> (13.2759, -292.3692) projected
  line L74 (27.2759, -288.3692) -> (27.2759, -292.3692) projected
  line L75 (35.7759, -292.3692) -> (27.2759, -292.3692) projected
  line L76 (35.7759, -292.3692) -> (35.7759, -288.3692) projected
  line L77 (35.7759, -288.3692) -> (41.2759, -288.3692) projected
  line L78 (41.2759, -288.3692) -> (41.2759, -292.3692) projected
  line L79 (49.7759, -292.3692) -> (41.2759, -292.3692) projected
  line L80 (49.7759, -292.3692) -> (49.7759, -288.3692) projected
  line L81 (49.7759, -288.3692) -> (55.2759, -288.3692) projected
  line L82 (55.2759, -288.3692) -> (55.2759, -292.3692) projected
  line L83 (67.6259, -292.3692) -> (55.2759, -292.3692) projected
  line L84 (21.7759, -292.3692) -> (21.7759, -288.3692) projected
  line L85 (21.7759, -288.3692) -> (27.2759, -288.3692) projected
  line L86 (-8.4741, -288.3692) -> (-0.4741, -288.3692) projected
  line L87 (-0.4741, -288.3692) -> (-0.4741, -292.3692) projected
  point P0 (0, 0)
  point P1 (7.5259, -292.3692)
  point P2 (-8.4741, -22.3692)
  point P3 (-8.4741, -247.3692)
  point P4 (-8.4741, -247.1192)
  point P5 (-8.4741, -22.6192)
  dimension "d44" = 20
  dimension "d45" = 10
  dimension "d46" = 5
extrude "Extrusion3" add sketch "Sketch3" against normal up to surface (4 mm away) contours L2 L5 L4 L3 | L2 L12 L7 L10 L53 L5 | L10 L7 L8 L9
sketch "Sketch4" plane through (0, 4, 0) normal (0, 1, 0) x (1, 0, 0)
  line L0 (-8.4741, 67.1192) -> (-4.4741, 67.1192) projected
  line L1 (-4.4741, 67.1192) -> (-4.4741, 52.6192) projected
  line L2 (-4.4741, 52.6192) -> (-8.4741, 52.6192) projected
  line L3 (-8.4741, 67.1192) -> (-8.4741, 52.6192) projected
  line L4 (-8.4741, 247.1192) -> (-4.4741, 247.1192) projected
  line L5 (-4.4741, 247.1192) -> (-4.4741, 232.6192) projected
  line L6 (-4.4741, 232.6192) -> (-8.4741, 232.6192) projected
  line L7 (-8.4741, 247.1192) -> (-8.4741, 232.6192) projected
  line L8 (-8.4741, 97.1192) -> (-8.4741, 82.6192) projected
  line L9 (-8.4741, 97.1192) -> (-4.4741, 97.1192) projected
  line L10 (-4.4741, 97.1192) -> (-4.4741, 82.6192) projected
  line L11 (-4.4741, 82.6192) -> (-8.4741, 82.6192) projected
  line L12 (-18.4741, 288.3692) -> (-0.4741, 288.3692) projected
  line L13 (-18.4741, 272.3692) -> (-18.4741, 288.3692) projected
  line L14 (-13.4741, 272.3692) -> (-18.4741, 272.3692) projected
  line L15 (-13.4741, 12.3692) -> (-13.4741, 272.3692) projected
  line L16 (-18.4741, 12.3692) -> (-13.4741, 12.3692) projected
  line L17 (-18.4741, -3.6308) -> (-18.4741, 12.3692) projected
  line L18 (-18.4741, -3.6308) -> (-0.3741, -3.6308) projected
  line L19 (-0.3741, -3.6308) -> (-0.3741, -7.6308) projected
  line L20 (-0.3741, -7.6308) -> (7.8759, -7.6308) projected
  line L21 (7.8759, -7.6308) -> (7.8759, -3.6308) projected
  line L22 (7.8759, -3.6308) -> (13.3759, -3.6308) projected
  line L23 (13.3759, -3.6308) -> (13.3759, -7.6308) projected
  line L24 (13.3759, -7.6308) -> (21.8759, -7.6308) projected
  line L25 (21.8759, -7.6308) -> (21.8759, -3.6308) projected
  line L26 (21.8759, -3.6308) -> (27.3759, -3.6308) projected
  line L27 (27.3759, -3.6308) -> (27.3759, -7.6308) projected
  line L28 (27.3759, -7.6308) -> (35.8759, -7.6308) projected
  line L29 (35.8759, -7.6308) -> (35.8759, -3.6308) projected
  line L30 (35.8759, -3.6308) -> (41.3759, -3.6308) projected
  line L31 (41.3759, -3.6308) -> (41.3759, -7.6308) projected
  line L32 (41.3759, -7.6308) -> (49.8759, -7.6308) projected
  line L33 (49.8759, -7.6308) -> (49.8759, -3.6308) projected
  line L34 (49.8759, -3.6308) -> (55.3759, -3.6308) projected
  line L35 (55.3759, -3.6308) -> (55.3759, -7.6308) projected
  line L36 (55.3759, -7.6308) -> (63.6259, -7.6308) projected
  line L37 (63.6259, -7.6308) -> (63.6259, -3.6308) projected
  line L38 (63.6259, -3.6308) -> (67.6259, -3.6308) projected
  line L39 (67.6259, -3.6308) -> (67.6259, 292.3692) projected
  line L40 (67.6259, 292.3692) -> (55.2759, 292.3692) projected
  line L41 (55.2759, 292.3692) -> (55.2759, 288.3692) projected
  line L42 (55.2759, 288.3692) -> (49.7759, 288.3692) projected
  line L43 (49.7759, 288.3692) -> (49.7759, 292.3692) projected
  line L44 (49.7759, 292.3692) -> (41.2759, 292.3692) projected
  line L45 (41.2759, 292.3692) -> (41.2759, 288.3692) projected
  line L46 (41.2759, 288.3692) -> (35.7759, 288.3692) projected
  line L47 (35.7759, 288.3692) -> (35.7759, 292.3692) projected
  line L48 (35.7759, 292.3692) -> (27.2759, 292.3692) projected
  line L49 (27.2759, 292.3692) -> (27.2759, 288.3692) projected
  line L50 (27.2759, 288.3692) -> (21.7759, 288.3692) projected
  line L51 (21.7759, 288.3692) -> (21.7759, 292.3692) projected
  line L52 (21.7759, 292.3692) -> (13.2759, 292.3692) projected
  line L53 (13.2759, 292.3692) -> (13.2759, 288.3692) projected
  line L54 (13.2759, 288.3692) -> (7.7759, 288.3692) projected
  line L55 (7.7759, 288.3692) -> (7.7759, 292.3692) projected
  line L56 (7.7759, 292.3692) -> (-0.4741, 292.3692) projected
  line L57 (-0.4741, 292.3692) -> (-0.4741, 288.3692) projected
  line L58 (-8.4741, 37.1192) -> (-8.4741, 22.6192) projected
  line L59 (-8.4741, 37.1192) -> (-4.4741, 37.1192) projected
  line L60 (-4.4741, 37.1192) -> (-4.4741, 22.6192) projected
  line L61 (-4.4741, 22.6192) -> (-8.4741, 22.6192) projected
  line L62 (-8.4741, 127.1192) -> (-8.4741, 112.6192) projected
  line L63 (-8.4741, 127.1192) -> (-4.4741, 127.1192) projected
  line L64 (-4.4741, 127.1192) -> (-4.4741, 112.6192) projected
  line L65 (-4.4741, 112.6192) -> (-8.4741, 112.6192) projected
  line L66 (-8.4741, 157.1192) -> (-8.4741, 142.6192) projected
  line L67 (-8.4741, 157.1192) -> (-4.4741, 157.1192) projected
  line L68 (-4.4741, 157.1192) -> (-4.4741, 142.6192) projected
  line L69 (-4.4741, 142.6192) -> (-8.4741, 142.6192) projected
  line L70 (-8.4741, 187.1192) -> (-8.4741, 172.6192) projected
  line L71 (-8.4741, 187.1192) -> (-4.4741, 187.1192) projected
  line L72 (-4.4741, 187.1192) -> (-4.4741, 172.6192) projected
  line L73 (-4.4741, 172.6192) -> (-8.4741, 172.6192) projected
  line L74 (0.3759, 191.0324) -> (0.3759, 206.206) projected
  arc A0 (2.2391, 208.0692) -> (0.3759, 206.206) centre (2.2391, 206.206) ccw projected
  line L75 (2.2391, 208.0692) -> (15.6627, 208.0692) projected
  arc A1 (17.5259, 206.206) -> (15.6627, 208.0692) centre (15.6627, 206.206) ccw projected
  line L76 (17.5259, 206.206) -> (17.5259, 191.0324) projected
  arc A2 (15.6627, 189.1692) -> (17.5259, 191.0324) centre (15.6627, 191.0324) ccw projected
  line L77 (15.6627, 189.1692) -> (2.2391, 189.1692) projected
  arc A3 (0.3759, 191.0324) -> (2.2391, 189.1692) centre (2.2391, 191.0324) ccw projected
  line L78 (-1.0491, 127.8692) -> (-1.0491, 177.8692) projected
  arc A4 (0.9509, 179.8692) -> (-1.0491, 177.8692) centre (0.9509, 177.8692) ccw projected
  line L79 (0.9509, 179.8692) -> (16.9509, 179.8692) projected
  arc A5 (18.9509, 177.8692) -> (16.9509, 179.8692) centre (16.9509, 177.8692) ccw projected
  line L80 (18.9509, 177.8692) -> (18.9509, 127.8692) projected
  arc A6 (16.9509, 125.8692) -> (18.9509, 127.8692) centre (16.9509, 127.8692) ccw projected
  line L81 (16.9509, 125.8692) -> (0.9509, 125.8692) projected
  arc A7 (-1.0491, 127.8692) -> (0.9509, 125.8692) centre (0.9509, 127.8692) ccw projected
  line L82 (-8.4741, 217.1192) -> (-8.4741, 202.6192) projected
  line L83 (-8.4741, 217.1192) -> (-4.4741, 217.1192) projected
  line L84 (-4.4741, 217.1192) -> (-4.4741, 202.6192) projected
  line L85 (-4.4741, 202.6192) -> (-8.4741, 202.6192) projected
  line L86 (63.6259, 292.3692) -> (63.6259, 288.3692)
  line L87 (63.6259, 288.3692) -> (67.6259, 288.3692)
  line L88 (67.6259, -3.6308) -> (67.6259, 292.3692) projected
  point P0 (0, 0)
  dimension "d52" = 4
  dimension "d53" = 4
extrude "Extrusion4" cut sketch "Sketch4" against normal through all contours L40 L39 L87 L86
properties part number "back"
